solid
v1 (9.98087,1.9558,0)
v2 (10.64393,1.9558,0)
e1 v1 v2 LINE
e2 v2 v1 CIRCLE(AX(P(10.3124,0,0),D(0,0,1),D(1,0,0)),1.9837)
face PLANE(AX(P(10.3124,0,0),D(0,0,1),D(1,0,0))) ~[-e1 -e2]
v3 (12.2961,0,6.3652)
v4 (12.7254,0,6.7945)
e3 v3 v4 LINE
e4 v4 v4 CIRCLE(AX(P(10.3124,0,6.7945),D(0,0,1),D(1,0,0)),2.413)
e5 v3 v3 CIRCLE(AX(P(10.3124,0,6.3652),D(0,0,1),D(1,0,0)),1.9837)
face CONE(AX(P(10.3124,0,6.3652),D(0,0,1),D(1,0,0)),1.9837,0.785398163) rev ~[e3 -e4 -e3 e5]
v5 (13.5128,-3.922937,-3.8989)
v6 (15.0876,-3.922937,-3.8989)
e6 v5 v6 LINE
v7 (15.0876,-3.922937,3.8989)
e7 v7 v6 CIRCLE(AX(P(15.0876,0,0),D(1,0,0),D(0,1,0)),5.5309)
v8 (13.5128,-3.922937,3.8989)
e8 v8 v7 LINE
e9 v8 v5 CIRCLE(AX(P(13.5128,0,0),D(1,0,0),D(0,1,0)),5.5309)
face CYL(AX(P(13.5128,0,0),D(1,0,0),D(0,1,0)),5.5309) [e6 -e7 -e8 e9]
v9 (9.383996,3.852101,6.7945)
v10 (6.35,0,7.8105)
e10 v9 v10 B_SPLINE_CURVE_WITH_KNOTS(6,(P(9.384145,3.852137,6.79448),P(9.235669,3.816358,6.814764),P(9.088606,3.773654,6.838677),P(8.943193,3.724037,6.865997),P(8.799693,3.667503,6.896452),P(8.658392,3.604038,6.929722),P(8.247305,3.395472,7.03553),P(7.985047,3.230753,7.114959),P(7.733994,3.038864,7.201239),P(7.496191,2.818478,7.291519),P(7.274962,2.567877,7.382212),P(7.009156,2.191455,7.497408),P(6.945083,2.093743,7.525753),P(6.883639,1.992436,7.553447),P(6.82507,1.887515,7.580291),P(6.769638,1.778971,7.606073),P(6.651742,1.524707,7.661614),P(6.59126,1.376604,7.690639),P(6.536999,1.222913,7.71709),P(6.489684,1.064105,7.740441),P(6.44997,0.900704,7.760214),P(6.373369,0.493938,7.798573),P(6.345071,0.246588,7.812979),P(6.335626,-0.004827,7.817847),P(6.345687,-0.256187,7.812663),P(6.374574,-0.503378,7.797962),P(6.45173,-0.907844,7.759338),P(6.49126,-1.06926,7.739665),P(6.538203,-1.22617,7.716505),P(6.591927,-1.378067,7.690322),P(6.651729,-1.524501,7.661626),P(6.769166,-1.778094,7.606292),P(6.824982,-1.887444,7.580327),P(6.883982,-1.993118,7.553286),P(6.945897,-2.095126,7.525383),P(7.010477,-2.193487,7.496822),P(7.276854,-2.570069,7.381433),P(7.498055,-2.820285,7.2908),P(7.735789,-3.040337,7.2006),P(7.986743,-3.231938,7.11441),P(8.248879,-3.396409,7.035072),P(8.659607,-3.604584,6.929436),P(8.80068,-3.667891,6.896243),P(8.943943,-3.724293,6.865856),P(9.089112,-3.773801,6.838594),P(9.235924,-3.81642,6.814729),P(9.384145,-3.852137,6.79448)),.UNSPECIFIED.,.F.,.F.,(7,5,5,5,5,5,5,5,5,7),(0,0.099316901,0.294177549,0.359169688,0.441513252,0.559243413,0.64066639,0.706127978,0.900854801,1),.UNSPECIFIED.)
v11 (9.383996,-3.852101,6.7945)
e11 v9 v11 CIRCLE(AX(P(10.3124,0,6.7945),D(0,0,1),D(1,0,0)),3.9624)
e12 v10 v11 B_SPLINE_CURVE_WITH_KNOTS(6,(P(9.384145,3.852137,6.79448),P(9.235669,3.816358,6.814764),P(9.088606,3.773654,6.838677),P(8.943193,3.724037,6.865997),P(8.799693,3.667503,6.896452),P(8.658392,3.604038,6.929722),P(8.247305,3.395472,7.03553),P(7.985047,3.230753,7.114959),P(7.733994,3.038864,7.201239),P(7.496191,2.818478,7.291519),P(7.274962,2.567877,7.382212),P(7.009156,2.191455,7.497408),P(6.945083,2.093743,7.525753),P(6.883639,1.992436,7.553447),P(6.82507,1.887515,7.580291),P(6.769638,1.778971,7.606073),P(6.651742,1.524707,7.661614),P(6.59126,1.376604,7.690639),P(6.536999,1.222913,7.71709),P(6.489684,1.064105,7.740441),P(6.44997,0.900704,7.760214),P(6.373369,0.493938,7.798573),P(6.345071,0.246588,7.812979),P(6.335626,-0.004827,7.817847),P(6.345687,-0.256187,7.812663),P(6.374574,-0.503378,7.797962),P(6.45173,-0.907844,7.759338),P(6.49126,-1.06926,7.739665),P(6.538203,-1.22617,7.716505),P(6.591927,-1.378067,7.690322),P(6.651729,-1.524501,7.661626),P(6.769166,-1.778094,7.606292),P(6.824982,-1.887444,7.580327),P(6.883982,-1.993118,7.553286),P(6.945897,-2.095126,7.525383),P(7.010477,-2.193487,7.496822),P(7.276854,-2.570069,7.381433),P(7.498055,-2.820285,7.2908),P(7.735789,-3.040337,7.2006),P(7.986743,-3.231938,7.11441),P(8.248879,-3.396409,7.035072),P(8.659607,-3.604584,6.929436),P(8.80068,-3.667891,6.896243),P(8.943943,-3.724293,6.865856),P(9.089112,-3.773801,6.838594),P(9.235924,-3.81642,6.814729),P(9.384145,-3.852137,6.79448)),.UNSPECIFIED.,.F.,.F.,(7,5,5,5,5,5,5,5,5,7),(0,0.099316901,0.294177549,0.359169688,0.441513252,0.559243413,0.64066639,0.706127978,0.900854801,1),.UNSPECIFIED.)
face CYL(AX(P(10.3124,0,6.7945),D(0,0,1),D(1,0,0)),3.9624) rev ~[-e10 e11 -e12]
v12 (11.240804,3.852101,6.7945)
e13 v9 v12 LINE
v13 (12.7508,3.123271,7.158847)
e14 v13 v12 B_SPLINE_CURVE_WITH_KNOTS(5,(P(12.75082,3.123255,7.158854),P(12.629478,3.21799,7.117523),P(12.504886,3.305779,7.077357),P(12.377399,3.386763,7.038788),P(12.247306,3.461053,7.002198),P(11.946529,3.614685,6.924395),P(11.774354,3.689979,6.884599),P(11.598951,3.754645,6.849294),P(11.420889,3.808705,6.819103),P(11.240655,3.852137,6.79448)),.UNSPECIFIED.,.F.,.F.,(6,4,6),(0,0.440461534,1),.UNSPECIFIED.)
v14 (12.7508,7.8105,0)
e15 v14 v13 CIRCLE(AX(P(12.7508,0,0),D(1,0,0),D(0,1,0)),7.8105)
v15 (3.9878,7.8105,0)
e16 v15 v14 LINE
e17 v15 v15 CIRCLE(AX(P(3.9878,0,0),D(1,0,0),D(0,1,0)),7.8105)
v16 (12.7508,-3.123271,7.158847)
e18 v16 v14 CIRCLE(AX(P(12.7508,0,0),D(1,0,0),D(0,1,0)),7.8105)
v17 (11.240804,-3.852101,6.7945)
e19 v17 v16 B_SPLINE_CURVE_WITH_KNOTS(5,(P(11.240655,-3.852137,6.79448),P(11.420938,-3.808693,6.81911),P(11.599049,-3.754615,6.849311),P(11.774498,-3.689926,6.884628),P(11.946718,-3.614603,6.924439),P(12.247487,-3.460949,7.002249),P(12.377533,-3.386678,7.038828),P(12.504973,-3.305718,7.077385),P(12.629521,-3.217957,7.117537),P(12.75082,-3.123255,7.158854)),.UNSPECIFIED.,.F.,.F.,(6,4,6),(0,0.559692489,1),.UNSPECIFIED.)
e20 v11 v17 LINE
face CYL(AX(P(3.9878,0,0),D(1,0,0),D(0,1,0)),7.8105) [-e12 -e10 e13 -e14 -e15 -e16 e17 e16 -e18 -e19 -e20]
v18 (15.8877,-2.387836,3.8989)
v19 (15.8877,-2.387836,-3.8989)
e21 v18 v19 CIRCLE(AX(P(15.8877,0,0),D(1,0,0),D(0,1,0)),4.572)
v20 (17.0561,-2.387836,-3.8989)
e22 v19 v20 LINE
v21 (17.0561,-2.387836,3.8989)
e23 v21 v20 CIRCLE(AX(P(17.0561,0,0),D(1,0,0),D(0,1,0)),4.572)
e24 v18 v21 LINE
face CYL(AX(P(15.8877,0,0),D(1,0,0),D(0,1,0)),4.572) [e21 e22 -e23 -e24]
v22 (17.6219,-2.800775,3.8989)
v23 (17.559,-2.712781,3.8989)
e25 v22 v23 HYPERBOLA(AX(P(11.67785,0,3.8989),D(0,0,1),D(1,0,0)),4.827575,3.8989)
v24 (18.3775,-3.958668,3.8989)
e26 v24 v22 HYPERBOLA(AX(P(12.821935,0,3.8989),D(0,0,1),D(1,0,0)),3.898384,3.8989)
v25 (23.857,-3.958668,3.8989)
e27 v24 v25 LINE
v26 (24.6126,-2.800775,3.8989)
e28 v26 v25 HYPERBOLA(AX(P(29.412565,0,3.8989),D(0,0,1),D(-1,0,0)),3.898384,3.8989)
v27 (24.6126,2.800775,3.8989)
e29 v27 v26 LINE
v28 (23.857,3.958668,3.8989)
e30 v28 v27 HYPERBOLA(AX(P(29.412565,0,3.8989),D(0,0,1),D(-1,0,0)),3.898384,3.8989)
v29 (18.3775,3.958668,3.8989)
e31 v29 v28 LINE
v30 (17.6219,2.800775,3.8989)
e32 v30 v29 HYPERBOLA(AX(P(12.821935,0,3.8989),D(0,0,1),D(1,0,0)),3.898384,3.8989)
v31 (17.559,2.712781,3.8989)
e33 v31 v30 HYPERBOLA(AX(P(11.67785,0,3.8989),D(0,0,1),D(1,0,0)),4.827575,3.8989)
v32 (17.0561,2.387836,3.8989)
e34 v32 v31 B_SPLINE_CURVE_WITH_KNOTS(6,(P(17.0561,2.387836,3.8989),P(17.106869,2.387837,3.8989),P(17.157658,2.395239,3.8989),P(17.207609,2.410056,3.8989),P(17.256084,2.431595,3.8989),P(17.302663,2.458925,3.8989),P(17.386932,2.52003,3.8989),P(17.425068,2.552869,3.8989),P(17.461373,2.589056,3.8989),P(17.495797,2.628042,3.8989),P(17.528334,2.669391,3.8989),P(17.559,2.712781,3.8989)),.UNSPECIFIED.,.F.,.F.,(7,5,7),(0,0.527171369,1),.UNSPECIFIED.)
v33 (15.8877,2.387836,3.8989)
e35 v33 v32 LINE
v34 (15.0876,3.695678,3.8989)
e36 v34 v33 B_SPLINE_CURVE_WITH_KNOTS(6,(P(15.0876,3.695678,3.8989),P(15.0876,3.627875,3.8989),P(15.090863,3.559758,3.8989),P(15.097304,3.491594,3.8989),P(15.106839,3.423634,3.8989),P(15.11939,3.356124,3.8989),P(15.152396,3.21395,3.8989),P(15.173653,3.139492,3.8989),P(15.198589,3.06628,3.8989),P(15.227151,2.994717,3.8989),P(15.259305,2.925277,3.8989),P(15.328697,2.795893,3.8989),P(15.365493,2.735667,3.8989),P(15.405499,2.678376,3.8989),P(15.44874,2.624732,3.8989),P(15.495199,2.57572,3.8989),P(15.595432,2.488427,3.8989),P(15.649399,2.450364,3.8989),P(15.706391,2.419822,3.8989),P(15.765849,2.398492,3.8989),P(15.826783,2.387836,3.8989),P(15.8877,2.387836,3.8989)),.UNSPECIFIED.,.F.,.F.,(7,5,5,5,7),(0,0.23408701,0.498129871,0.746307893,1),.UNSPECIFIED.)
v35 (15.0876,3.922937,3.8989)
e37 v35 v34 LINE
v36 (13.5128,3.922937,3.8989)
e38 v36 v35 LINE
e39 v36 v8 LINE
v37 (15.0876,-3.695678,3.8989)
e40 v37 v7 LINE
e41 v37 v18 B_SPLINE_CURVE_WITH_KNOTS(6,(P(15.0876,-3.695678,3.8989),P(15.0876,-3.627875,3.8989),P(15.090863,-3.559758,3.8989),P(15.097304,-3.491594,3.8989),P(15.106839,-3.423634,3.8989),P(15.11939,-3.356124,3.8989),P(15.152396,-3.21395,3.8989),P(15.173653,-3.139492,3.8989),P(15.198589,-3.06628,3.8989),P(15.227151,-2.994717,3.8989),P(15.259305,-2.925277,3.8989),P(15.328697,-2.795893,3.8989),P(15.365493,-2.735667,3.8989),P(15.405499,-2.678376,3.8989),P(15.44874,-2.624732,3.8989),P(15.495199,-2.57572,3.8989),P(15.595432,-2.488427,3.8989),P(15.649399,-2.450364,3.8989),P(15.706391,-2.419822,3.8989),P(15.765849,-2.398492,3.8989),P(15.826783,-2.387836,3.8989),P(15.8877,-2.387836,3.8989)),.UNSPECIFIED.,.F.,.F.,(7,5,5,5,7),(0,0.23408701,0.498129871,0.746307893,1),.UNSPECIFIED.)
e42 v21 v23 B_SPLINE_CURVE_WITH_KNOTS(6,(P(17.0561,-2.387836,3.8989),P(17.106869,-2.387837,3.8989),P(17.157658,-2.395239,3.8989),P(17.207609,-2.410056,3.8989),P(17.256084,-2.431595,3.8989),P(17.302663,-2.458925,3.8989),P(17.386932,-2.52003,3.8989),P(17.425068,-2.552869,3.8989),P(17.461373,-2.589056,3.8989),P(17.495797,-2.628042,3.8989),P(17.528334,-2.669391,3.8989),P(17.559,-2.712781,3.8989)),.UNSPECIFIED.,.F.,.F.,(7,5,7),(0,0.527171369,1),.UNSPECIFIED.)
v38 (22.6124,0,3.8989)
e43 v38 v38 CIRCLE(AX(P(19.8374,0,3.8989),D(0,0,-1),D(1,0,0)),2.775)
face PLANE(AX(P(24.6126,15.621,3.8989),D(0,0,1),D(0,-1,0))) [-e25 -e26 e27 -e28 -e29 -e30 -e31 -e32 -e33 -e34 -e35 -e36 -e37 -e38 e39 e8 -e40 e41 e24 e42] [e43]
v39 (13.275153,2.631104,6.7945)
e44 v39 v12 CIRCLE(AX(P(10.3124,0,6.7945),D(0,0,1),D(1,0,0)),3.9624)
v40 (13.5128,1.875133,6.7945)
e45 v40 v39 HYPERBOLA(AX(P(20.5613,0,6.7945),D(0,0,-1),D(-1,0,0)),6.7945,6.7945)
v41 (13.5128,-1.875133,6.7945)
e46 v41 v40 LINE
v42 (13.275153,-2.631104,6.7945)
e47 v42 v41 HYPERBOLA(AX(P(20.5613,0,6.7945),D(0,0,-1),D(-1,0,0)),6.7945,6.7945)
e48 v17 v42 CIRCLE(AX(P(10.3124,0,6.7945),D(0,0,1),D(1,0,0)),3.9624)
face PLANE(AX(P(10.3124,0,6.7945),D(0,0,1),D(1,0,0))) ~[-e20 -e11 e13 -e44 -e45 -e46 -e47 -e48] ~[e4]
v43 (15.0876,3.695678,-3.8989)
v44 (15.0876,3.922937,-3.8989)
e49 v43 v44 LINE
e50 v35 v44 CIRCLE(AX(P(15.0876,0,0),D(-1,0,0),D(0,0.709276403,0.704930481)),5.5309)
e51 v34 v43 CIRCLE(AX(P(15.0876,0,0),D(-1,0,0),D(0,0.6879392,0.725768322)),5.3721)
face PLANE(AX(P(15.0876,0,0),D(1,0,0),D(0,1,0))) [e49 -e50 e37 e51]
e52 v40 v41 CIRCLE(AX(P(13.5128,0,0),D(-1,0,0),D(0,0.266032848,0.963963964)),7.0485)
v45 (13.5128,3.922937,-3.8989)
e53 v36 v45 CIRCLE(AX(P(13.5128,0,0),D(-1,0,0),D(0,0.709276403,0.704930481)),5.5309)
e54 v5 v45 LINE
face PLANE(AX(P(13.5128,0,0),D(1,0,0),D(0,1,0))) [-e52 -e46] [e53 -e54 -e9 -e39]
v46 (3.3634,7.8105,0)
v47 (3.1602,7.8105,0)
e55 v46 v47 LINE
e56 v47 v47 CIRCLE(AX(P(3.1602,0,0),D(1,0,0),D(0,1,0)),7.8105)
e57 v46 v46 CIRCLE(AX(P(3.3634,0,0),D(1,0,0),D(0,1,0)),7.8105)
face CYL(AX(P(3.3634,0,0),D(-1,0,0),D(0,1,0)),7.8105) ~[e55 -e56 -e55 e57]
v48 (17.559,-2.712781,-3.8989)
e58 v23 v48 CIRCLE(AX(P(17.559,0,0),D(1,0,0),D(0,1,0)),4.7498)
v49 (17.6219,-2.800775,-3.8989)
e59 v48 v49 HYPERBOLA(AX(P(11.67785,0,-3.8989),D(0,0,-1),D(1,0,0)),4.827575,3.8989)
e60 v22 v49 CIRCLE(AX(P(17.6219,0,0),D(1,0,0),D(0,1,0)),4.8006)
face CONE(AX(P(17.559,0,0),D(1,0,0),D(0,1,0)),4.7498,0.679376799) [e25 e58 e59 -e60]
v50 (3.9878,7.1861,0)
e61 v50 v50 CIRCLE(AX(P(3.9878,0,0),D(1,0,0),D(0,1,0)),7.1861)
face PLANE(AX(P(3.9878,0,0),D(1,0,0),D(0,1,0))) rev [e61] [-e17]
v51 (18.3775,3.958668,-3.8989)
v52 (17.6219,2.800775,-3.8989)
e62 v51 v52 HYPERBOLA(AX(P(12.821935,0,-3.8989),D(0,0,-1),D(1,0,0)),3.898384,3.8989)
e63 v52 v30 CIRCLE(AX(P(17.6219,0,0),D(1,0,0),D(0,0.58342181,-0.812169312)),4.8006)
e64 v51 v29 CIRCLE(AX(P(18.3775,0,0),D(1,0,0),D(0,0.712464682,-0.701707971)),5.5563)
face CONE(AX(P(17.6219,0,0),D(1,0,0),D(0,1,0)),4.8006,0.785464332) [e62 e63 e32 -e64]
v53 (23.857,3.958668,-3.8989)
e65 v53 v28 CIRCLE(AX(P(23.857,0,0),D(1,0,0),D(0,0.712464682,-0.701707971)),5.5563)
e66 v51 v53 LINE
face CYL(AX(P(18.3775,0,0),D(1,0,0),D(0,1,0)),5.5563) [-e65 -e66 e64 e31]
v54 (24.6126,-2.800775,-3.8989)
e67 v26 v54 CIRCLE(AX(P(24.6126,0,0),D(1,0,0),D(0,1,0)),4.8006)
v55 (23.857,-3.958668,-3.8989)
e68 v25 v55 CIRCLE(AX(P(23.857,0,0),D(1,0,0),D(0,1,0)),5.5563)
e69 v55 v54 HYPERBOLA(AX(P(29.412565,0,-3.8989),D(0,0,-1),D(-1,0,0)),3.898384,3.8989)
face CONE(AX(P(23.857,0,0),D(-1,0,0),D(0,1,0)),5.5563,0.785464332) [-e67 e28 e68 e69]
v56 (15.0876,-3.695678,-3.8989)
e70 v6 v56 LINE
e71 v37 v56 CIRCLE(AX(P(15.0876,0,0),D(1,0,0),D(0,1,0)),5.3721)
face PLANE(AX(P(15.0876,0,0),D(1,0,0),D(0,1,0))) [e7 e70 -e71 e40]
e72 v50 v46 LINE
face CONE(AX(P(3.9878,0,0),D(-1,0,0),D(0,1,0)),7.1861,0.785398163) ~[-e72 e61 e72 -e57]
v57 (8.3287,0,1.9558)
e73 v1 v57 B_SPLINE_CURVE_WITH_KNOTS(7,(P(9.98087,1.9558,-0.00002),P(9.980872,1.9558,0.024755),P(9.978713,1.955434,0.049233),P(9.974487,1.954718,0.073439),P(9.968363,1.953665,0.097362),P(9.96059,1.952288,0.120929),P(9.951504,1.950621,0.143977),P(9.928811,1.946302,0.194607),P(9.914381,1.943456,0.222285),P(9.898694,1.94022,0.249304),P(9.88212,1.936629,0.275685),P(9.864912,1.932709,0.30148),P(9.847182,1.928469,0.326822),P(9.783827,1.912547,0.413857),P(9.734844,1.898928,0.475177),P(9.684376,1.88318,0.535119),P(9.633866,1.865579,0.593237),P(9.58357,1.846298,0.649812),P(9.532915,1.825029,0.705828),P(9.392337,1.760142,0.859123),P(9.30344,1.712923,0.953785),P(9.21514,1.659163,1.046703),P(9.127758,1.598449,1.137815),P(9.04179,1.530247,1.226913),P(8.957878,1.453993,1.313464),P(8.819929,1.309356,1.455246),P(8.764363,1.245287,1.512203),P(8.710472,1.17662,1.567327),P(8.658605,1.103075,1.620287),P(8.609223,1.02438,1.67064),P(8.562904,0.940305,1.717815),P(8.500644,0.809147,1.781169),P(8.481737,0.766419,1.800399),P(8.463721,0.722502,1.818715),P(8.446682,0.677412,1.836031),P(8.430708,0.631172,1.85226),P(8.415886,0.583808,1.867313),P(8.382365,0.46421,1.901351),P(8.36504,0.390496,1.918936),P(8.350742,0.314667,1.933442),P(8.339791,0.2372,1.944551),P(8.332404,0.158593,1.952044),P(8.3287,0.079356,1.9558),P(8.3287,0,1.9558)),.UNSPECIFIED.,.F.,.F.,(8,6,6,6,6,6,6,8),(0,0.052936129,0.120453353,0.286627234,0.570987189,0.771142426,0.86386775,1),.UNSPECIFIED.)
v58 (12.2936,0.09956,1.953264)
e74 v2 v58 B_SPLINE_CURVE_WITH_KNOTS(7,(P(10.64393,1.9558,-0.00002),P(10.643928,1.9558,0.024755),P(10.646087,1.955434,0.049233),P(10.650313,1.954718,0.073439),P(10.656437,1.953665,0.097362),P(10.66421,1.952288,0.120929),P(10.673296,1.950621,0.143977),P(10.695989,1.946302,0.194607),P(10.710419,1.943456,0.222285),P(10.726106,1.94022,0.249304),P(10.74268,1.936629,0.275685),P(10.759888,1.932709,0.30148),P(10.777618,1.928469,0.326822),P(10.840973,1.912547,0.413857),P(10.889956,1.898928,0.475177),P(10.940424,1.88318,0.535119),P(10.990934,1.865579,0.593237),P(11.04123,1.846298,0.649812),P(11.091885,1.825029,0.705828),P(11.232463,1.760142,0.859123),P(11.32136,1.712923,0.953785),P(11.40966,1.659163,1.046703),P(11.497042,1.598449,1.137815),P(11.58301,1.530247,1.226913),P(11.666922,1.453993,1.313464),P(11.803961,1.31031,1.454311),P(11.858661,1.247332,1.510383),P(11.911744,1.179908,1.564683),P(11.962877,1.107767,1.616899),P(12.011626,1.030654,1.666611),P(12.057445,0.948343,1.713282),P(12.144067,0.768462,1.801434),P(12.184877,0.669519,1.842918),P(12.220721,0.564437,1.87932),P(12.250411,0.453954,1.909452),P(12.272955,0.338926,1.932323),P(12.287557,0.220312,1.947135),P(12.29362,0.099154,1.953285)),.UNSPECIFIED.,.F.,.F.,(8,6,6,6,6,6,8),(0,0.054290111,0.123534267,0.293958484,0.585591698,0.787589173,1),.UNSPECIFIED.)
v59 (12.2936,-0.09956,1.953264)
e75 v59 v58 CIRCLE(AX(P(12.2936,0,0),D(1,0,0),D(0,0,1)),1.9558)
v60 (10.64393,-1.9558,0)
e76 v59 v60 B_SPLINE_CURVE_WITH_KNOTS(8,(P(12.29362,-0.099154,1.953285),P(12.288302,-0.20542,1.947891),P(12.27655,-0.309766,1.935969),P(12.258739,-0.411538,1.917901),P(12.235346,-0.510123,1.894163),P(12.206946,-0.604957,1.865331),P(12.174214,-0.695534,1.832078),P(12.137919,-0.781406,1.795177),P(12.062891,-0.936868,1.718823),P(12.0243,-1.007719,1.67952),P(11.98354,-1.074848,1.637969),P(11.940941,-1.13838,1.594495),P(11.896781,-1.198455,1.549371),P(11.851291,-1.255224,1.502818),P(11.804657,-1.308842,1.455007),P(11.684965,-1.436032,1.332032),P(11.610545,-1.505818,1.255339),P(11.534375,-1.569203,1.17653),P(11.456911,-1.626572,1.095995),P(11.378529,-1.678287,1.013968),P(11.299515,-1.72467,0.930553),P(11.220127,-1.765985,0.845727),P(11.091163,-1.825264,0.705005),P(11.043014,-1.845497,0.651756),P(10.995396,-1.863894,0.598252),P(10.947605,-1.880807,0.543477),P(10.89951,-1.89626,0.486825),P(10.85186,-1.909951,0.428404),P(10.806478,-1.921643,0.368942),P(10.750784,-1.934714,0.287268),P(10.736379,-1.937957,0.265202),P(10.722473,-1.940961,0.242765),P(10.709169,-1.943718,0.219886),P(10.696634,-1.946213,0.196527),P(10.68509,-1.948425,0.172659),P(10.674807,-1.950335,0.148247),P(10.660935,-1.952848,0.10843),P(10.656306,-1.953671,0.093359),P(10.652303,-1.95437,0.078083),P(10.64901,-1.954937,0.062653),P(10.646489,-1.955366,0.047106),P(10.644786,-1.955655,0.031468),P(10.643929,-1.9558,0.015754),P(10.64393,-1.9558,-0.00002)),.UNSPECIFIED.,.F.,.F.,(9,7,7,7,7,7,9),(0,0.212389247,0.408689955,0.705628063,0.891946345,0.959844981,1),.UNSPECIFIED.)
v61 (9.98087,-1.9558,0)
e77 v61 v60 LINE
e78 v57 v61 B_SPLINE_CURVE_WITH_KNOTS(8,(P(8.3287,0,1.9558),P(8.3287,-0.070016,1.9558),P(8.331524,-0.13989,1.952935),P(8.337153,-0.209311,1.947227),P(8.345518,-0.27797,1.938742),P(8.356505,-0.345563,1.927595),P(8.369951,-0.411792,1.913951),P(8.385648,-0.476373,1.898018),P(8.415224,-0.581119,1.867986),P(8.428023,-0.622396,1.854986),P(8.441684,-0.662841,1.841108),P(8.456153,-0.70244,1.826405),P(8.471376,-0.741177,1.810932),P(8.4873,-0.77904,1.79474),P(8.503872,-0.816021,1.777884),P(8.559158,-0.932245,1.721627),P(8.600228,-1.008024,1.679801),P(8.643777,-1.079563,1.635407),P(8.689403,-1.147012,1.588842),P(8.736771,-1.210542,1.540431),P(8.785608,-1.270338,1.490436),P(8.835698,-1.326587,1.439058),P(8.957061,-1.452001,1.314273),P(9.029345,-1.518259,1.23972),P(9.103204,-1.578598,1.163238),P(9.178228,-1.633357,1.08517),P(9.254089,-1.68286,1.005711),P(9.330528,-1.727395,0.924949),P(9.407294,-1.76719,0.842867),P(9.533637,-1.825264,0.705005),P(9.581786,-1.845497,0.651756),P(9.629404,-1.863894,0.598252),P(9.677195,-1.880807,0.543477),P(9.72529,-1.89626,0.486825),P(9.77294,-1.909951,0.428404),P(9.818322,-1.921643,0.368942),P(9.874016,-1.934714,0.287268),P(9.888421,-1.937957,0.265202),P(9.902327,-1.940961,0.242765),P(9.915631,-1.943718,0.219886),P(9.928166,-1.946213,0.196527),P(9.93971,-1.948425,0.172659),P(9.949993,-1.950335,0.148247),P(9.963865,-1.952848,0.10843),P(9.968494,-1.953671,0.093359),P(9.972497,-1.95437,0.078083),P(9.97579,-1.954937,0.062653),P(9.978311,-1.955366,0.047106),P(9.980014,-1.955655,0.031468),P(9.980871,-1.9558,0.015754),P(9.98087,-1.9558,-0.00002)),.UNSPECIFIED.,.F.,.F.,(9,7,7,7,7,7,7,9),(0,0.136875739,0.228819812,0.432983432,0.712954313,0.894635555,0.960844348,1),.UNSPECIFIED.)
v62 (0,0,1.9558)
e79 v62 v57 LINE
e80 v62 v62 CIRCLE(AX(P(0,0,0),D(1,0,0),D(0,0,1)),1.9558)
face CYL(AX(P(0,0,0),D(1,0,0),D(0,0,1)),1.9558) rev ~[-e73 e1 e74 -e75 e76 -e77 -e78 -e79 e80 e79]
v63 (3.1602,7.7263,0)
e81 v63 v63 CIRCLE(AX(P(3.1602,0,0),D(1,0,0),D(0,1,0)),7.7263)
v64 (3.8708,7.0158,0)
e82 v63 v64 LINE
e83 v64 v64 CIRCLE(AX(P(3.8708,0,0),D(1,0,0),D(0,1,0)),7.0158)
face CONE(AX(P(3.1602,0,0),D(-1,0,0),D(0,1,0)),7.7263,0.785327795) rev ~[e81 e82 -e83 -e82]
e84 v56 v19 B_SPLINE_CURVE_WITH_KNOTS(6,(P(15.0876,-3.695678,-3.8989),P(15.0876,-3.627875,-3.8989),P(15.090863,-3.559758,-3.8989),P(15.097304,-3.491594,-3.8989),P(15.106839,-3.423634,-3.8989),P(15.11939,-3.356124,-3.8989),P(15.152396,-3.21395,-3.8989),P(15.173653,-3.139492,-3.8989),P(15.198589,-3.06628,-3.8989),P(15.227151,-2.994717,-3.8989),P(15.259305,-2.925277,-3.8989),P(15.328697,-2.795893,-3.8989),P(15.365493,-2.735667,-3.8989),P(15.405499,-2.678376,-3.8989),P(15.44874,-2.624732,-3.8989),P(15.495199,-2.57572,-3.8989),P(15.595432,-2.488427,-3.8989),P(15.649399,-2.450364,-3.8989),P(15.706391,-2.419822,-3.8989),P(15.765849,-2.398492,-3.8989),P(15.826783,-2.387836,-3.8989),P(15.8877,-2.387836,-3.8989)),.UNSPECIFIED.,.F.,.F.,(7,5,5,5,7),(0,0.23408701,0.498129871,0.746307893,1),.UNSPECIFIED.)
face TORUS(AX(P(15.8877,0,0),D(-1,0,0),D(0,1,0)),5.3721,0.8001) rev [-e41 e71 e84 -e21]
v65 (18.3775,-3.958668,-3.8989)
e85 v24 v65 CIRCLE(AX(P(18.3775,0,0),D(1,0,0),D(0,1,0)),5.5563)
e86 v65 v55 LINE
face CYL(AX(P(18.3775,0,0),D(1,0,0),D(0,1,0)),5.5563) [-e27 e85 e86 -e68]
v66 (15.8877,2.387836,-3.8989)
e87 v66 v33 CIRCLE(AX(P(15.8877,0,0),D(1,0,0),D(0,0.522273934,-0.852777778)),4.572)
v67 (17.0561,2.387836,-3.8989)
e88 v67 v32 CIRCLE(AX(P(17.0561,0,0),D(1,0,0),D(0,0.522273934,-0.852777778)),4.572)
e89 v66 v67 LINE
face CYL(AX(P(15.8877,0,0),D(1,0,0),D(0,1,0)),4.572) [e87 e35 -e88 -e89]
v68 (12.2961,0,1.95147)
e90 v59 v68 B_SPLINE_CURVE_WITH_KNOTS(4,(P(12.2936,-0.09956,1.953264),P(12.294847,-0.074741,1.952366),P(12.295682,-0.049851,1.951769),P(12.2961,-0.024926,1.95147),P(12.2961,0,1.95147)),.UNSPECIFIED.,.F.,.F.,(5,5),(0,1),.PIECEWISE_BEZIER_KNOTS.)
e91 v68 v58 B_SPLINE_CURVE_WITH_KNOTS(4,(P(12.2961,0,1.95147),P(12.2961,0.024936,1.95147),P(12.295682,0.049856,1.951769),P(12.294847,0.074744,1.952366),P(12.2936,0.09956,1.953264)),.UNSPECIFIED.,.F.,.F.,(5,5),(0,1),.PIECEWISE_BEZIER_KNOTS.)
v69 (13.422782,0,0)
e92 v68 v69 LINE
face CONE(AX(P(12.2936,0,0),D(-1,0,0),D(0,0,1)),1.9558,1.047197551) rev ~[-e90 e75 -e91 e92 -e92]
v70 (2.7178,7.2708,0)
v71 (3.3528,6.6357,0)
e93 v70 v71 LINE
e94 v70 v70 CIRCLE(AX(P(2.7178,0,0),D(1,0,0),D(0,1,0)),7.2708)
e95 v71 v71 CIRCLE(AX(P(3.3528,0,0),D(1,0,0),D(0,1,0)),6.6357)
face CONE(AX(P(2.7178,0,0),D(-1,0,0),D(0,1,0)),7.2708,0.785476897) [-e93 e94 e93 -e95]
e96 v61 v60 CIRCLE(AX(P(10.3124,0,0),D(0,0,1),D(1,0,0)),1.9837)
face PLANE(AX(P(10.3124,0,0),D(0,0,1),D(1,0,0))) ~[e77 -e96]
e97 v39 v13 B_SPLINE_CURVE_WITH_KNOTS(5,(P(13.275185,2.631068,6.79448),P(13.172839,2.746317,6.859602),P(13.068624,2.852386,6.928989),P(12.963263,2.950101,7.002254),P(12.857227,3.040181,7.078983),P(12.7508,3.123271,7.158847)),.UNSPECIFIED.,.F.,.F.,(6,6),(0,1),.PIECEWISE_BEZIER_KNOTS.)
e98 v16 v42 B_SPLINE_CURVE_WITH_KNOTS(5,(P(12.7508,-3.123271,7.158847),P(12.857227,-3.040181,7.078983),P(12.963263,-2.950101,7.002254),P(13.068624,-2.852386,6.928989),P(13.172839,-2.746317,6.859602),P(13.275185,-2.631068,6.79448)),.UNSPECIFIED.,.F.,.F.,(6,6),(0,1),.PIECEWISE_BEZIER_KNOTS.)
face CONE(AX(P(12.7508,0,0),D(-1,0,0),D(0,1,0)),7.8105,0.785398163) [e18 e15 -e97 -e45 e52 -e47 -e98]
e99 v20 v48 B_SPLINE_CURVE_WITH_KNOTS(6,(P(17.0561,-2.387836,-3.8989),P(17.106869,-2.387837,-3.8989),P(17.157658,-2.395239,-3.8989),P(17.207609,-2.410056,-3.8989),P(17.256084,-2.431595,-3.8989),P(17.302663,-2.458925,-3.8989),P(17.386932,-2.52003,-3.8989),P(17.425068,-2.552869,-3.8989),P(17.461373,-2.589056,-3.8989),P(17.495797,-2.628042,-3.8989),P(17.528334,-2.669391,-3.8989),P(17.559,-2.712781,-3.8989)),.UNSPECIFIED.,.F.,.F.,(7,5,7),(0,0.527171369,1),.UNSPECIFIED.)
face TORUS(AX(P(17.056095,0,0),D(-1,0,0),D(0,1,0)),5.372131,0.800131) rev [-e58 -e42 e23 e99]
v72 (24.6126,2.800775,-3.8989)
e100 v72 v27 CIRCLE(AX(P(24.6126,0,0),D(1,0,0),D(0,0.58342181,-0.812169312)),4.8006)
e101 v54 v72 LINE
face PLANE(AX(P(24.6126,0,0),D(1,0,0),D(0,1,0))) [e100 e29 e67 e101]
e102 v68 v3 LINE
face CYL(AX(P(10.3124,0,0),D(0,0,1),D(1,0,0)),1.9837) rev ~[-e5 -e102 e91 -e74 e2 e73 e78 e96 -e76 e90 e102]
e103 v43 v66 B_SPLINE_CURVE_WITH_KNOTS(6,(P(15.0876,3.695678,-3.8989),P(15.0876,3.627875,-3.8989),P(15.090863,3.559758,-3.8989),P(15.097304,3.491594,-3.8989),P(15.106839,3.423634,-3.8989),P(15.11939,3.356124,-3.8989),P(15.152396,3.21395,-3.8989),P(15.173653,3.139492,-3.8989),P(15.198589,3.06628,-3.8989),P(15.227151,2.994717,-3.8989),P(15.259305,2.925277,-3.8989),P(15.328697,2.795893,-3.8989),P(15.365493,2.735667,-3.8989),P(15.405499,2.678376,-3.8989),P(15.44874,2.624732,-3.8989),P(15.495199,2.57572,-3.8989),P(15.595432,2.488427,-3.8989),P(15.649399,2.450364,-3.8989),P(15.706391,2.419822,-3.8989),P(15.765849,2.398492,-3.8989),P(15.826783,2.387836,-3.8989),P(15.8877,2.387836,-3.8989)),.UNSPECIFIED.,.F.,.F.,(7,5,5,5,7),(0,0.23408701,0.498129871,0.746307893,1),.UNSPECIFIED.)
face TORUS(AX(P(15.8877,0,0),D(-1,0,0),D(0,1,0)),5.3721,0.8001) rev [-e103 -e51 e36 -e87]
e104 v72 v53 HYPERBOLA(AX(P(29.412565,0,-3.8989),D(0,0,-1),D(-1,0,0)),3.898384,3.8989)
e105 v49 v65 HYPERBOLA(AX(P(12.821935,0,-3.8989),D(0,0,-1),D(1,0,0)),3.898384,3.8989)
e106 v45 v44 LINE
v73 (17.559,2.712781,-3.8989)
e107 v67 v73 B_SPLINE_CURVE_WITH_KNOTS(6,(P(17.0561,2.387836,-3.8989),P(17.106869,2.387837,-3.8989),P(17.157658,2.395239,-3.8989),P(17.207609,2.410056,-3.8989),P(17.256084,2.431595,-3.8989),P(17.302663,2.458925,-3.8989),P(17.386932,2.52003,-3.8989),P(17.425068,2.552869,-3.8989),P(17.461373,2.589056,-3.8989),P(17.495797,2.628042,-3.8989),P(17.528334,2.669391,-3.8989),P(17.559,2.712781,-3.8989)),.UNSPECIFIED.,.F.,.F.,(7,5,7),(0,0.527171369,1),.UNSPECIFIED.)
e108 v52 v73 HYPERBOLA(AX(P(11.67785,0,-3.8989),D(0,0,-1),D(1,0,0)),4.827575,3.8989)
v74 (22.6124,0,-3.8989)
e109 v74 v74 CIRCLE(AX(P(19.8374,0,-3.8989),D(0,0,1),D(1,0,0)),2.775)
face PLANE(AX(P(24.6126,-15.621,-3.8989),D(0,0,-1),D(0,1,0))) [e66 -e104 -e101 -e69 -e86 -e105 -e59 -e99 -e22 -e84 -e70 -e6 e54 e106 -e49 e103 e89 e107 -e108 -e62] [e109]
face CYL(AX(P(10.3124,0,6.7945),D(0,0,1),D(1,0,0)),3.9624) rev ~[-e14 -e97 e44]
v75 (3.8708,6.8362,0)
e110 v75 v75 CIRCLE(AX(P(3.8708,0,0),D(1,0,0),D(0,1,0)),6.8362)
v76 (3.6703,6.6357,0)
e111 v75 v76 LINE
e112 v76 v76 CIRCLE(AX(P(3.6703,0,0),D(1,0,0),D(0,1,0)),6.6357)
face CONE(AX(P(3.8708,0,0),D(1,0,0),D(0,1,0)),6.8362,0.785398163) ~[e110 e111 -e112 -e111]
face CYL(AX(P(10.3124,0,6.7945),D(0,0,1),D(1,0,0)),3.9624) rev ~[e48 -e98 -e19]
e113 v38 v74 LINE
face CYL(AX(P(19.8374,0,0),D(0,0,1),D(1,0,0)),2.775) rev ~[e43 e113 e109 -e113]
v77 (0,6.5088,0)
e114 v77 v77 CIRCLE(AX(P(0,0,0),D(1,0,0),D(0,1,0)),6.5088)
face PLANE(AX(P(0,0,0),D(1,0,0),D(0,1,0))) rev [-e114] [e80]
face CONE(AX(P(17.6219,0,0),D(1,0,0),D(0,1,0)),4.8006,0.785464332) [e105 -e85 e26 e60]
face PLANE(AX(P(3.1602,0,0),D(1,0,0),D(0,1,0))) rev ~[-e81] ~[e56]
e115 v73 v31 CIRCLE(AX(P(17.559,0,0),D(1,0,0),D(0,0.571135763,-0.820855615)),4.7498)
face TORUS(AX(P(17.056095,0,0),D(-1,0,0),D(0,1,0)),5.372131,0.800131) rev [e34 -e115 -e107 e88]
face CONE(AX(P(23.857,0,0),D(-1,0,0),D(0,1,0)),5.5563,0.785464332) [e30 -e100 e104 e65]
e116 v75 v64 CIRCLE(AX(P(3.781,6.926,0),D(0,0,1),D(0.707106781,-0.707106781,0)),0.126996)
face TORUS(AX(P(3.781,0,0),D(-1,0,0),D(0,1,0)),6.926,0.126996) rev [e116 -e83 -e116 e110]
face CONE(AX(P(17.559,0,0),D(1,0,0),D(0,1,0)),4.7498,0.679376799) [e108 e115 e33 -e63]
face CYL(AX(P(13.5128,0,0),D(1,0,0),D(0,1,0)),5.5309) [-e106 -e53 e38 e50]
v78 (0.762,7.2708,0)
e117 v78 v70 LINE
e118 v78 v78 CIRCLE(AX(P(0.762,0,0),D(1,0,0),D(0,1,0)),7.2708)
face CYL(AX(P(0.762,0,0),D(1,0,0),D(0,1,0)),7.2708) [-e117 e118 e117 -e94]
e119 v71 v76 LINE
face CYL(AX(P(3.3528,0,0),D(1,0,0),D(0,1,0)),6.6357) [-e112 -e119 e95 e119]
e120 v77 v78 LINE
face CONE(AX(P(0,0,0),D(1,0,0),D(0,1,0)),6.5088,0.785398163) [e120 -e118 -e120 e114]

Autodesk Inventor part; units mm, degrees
sketch "Sketch_18" plane through (0, 0, 0) normal (0, 0, 1) x (1, 0, 0)
  line L0 (13.5128, 0) -> (0, 0)
  line L1 (0, 0) -> (0, 6.5088)
  line L2 (0, 6.5088) -> (0.762, 7.2708)
  line L3 (0.762, 7.2708) -> (2.7178, 7.2708)
  line L4 (2.7178, 7.2708) -> (3.3528, 6.6357)
  line L5 (3.3528, 6.6357) -> (3.9878, 6.6357)
  line L6 (3.9878, 6.6357) -> (3.9878, 7.8105)
  line L7 (3.9878, 7.8105) -> (12.7508, 7.8105)
  line L8 (12.7508, 7.8105) -> (13.5128, 7.0485)
  line L9 (13.5128, 7.0485) -> (13.5128, 0)
  line L10 (13.5128, 0) -> (0, 0)
revolve "Revolution1" add sketch "Sketch_18" angle 360 about axis through (13.5128, 0, 0) along (1, 0, 0)
sketch "Sketch_15" plane through (0, 0, 0) normal (0, 0, 1) x (1, 0, 0)
  line L0 (24.6126, 0) -> (13.5128, 0)
  line L1 (13.5128, 0) -> (13.5128, 5.5309)
  line L2 (13.5128, 5.5309) -> (15.0876, 5.5309)
  line L3 (15.0876, 5.5309) -> (15.0876, 5.3721)
  arc A0 (15.0876, 5.3721) -> (15.8877, 4.572) centre (15.8877, 5.3721) ccw
  line L4 (15.8877, 4.572) -> (17.0561, 4.572)
  arc A1 (17.0561, 4.572) -> (17.559, 4.7498) centre (17.0561, 5.3721) ccw
  line L5 (17.559, 4.7498) -> (17.6219, 4.8006)
  line L6 (17.6219, 4.8006) -> (18.3775, 5.5563)
  line L7 (18.3775, 5.5563) -> (23.857, 5.5563)
  line L8 (23.857, 5.5563) -> (24.6126, 4.8006)
  line L9 (24.6126, 4.8006) -> (24.6126, 0)
  line L10 (24.6126, 0) -> (13.5128, 0)
revolve "Revolution2" add sketch "Sketch_15" angle 360 about axis through (24.6126, 0, 0) along (1, 0, 0)
sketch "Sketch_9" plane through (24.6126, 0, 0) normal (1, 0, 0) x (0, 0, -1)
  line L0 (-15.621, -31.242) -> (15.621, -31.242)
  line L1 (15.621, -31.242) -> (15.621, 31.242)
  line L2 (15.621, 31.242) -> (-15.621, 31.242)
  line L3 (-15.621, 31.242) -> (-15.621, -31.242)
  line L4 (-3.8989, -15.621) -> (3.8989, -15.621)
  line L5 (3.8989, -15.621) -> (3.8989, 15.621)
  line L6 (3.8989, 15.621) -> (-3.8989, 15.621)
  line L7 (-3.8989, 15.621) -> (-3.8989, -15.621)
extrude "Extrusion1" cut sketch "Sketch_9" against normal blind 11.0998
sketch "Sketch4" plane through (0, 0, 0) normal (-1, 0, 0) x (0, 0, 1)
  point P0 (0, 0)
hole "Hole1" at (0, 0, 0) direction (1, 0, 0) diameter 3.9116 depth 12.2936 tip angle 120
sketch "Sketch_16" plane through (0, 0, 0) normal (0, 1, 0) x (-1, 0, 0)
  line L0 (-10.3124, 7.8105) -> (-10.3124, 0)
  line L1 (-10.3124, 0) -> (-12.2961, 0)
  line L2 (-12.2961, 0) -> (-12.2961, 6.3652)
  line L3 (-12.2961, 6.3652) -> (-12.7254, 6.7945)
  line L4 (-12.7254, 6.7945) -> (-14.2748, 6.7945)
  line L5 (-14.2748, 6.7945) -> (-14.2748, 7.8105)
  line L6 (-14.2748, 7.8105) -> (-10.3124, 7.8105)
  line L7 (-10.3124, 7.8105) -> (-10.3124, 0)
revolve "Revolution3" cut sketch "Sketch_16" angle 360 about axis through (10.3124, 0, 7.8105) along (0, 0, 1)
thread "Thread1" size "10-32 UNF" class "2B" standard "ANSI Unified Screw Threads" length 4.4094
sketch "Sketch_24" plane through (0, 0, 0) normal (0, 0, 1) x (1, 0, 0)
  line L0 (3.9878, 0) -> (3.3528, 0)
  line L1 (3.1602, 7.8105) -> (3.1602, 7.7263)
  line L2 (3.1602, 7.7263) -> (3.8708, 7.0158)
  arc A0 (3.8708, 6.8362) -> (3.8708, 7.0158) centre (3.781, 6.926) ccw
  line L3 (3.8708, 6.8362) -> (3.6703, 6.6357)
  line L4 (3.6703, 6.6357) -> (3.3528, 6.6357)
  line L5 (3.3528, 6.6357) -> (3.3528, 6.3818)
  line L6 (3.3528, 6.3818) -> (3.9878, 6.3818)
  line L7 (3.9878, 6.3818) -> (3.9878, 7.1861)
  line L8 (3.9878, 7.1861) -> (3.3634, 7.8105)
  line L9 (3.3634, 7.8105) -> (3.1602, 7.8105)
revolve "Revolution4" add sketch "Sketch_24" angle 360 about axis through (3.9878, 0, 0) along (1, 0, 0)
sketch "Sketch_43" plane through (0, 0, 0) normal (0, 0, 1) x (1, 0, 0)
  circle A0 centre (19.8374, 0) radius 2.775
extrude "Extrusion2" cut sketch "Sketch_43" along normal mid plane 11.6967
ref_plane "1_XY" through (15.0876, 0, 0) normal (1, 0, 0) x (0, 0, -1)
ref_plane "1_YZ" through (15.0876, 0, 0) normal (0, 0, -1) x (0, 1, 0)
ref_plane "1_ZX" through (15.0876, 0, 0) normal (0, 1, 0) x (1, 0, 0)
ref_plane "c1_XY" through (13.5128, 5.5309, 0) normal (0, 0, 1) x (1, 0, 0)
ref_plane "c1_YZ" through (13.5128, 5.5309, 0) normal (1, 0, 0) x (0, 1, 0)
ref_plane "c1_ZX" through (13.5128, 5.5309, 0) normal (0, 1, 0) x (0, 0, 1)
ref_plane "c2_XY" through (13.5128, -5.5309, 0) normal (0, 0, 1) x (1, 0, 0)
ref_plane "c2_YZ" through (13.5128, -5.5309, 0) normal (1, 0, 0) x (0, 1, 0)
ref_plane "c2_ZX" through (13.5128, -5.5309, 0) normal (0, 1, 0) x (0, 0, 1)
ref_plane "cc1_XY" through (13.5128, 0, 0) normal (0, 0, 1) x (1, 0, 0)
ref_plane "cc1_YZ" through (13.5128, 0, 0) normal (1, 0, 0) x (0, 1, 0)
ref_plane "cc1_ZX" through (13.5128, 0, 0) normal (0, 1, 0) x (0, 0, 1)
ref_plane "cc2_XY" through (15.0876, 0, 0) normal (0, 0, 1) x (1, 0, 0)
ref_plane "cc2_YZ" through (15.0876, 0, 0) normal (1, 0, 0) x (0, 1, 0)
ref_plane "cc2_ZX" through (15.0876, 0, 0) normal (0, 1, 0) x (0, 0, 1)
ref_plane "lovra1_XY" through (19.9644, 0, 0) normal (1, 0, 0) x (0, 0, -1)
ref_plane "lovra1_YZ" through (19.9644, 0, 0) normal (0, 0, -1) x (0, 1, 0)
ref_plane "lovra1_ZX" through (19.9644, 0, 0) normal (0, 1, 0) x (1, 0, 0)
ref_plane "lovra2_XY" through (19.9644, 6.2865, 0) normal (1, 0, 0) x (0, 0, -1)
ref_plane "lovra2_YZ" through (19.9644, 6.2865, 0) normal (0, 0, -1) x (0, 1, 0)
ref_plane "lovra2_ZX" through (19.9644, 6.2865, 0) normal (0, 1, 0) x (1, 0, 0)
ref_plane "lovra21_XY" through (0, 0, 5.2705) normal (1, 0, 0) x (0, 0, -1)
ref_plane "lovra21_YZ" through (0, 0, 5.2705) normal (0, 0, -1) x (0, 1, 0)
ref_plane "lovra21_ZX" through (0, 0, 5.2705) normal (0, 1, 0) x (1, 0, 0)
ref_plane "lovra22_XY" through (0, 0, -5.2705) normal (1, 0, 0) x (0, 0, -1)
ref_plane "lovra22_YZ" through (0, 0, -5.2705) normal (0, 0, -1) x (0, 1, 0)
ref_plane "lovra22_ZX" through (0, 0, -5.2705) normal (0, 1, 0) x (1, 0, 0)
ref_plane "lovra3_XY" through (19.9644, -6.2865, 0) normal (1, 0, 0) x (0, 0, -1)
ref_plane "lovra3_YZ" through (19.9644, -6.2865, 0) normal (0, 0, -1) x (0, 1, 0)
ref_plane "lovra3_ZX" through (19.9644, -6.2865, 0) normal (0, 1, 0) x (1, 0, 0)
ref_plane "olen_XY" through (19.8374, 0, 0) normal (1, 0, 0) x (0, 0, -1)
ref_plane "olen_YZ" through (19.8374, 0, 0) normal (0, 0, -1) x (0, 1, 0)
ref_plane "olen_ZX" through (19.8374, 0, 0) normal (0, 1, 0) x (1, 0, 0)
ref_plane "p1_XY" through (24.6126, 0, 3.9624) normal (1, 0, 0) x (0, 0, -1)
ref_plane "p1_YZ" through (24.6126, 0, 3.9624) normal (0, 0, -1) x (0, 1, 0)
ref_plane "p1_ZX" through (24.6126, 0, 3.9624) normal (0, 1, 0) x (1, 0, 0)
ref_plane "p2_XY" through (24.6126, 0, -3.9624) normal (1, 0, 0) x (0, 0, -1)
ref_plane "p2_YZ" through (24.6126, 0, -3.9624) normal (0, 0, -1) x (0, 1, 0)
ref_plane "p2_ZX" through (24.6126, 0, -3.9624) normal (0, 1, 0) x (1, 0, 0)
ref_plane "port_XY" through (10.3124, 0, 0) normal (0, 0, 1) x (1, 0, 0)
ref_plane "port_YZ" through (10.3124, 0, 0) normal (1, 0, 0) x (0, 1, 0)
ref_plane "port_ZX" through (10.3124, 0, 0) normal (0, 1, 0) x (0, 0, 1)
ref_plane "port2_XY" through (24.6126, 0, 0) normal (1, 0, 0) x (0, 0, -1)
ref_plane "port2_YZ" through (24.6126, 0, 0) normal (0, 0, -1) x (0, 1, 0)
ref_plane "port2_ZX" through (24.6126, 0, 0) normal (0, 1, 0) x (1, 0, 0)
ref_plane "thd1_XY" through (24.6126, 0, 5.5563) normal (1, 0, 0) x (0, 0, -1)
ref_plane "thd1_YZ" through (24.6126, 0, 5.5563) normal (0, 0, -1) x (0, 1, 0)
ref_plane "thd1_ZX" through (24.6126, 0, 5.5563) normal (0, 1, 0) x (1, 0, 0)
ref_plane "thd2_XY" through (24.6126, 0, -5.5563) normal (1, 0, 0) x (0, 0, -1)
ref_plane "thd2_YZ" through (24.6126, 0, -5.5563) normal (0, 0, -1) x (0, 1, 0)
ref_plane "thd2_ZX" through (24.6126, 0, -5.5563) normal (0, 1, 0) x (1, 0, 0)
ref_plane "to_mounting_bracket_XY" through (13.5128, 0, 0) normal (1, 0, 0) x (0, 0, -1)
ref_plane "to_mounting_bracket_YZ" through (13.5128, 0, 0) normal (0, 0, -1) x (0, 1, 0)
ref_plane "to_mounting_bracket_ZX" through (13.5128, 0, 0) normal (0, 1, 0) x (1, 0, 0)
ref_plane "to_nut_XY" through (15.0876, 0, 0) normal (1, 0, 0) x (0, 0, -1)
ref_plane "to_nut_YZ" through (15.0876, 0, 0) normal (0, 0, -1) x (0, 1, 0)
ref_plane "to_nut_ZX" through (15.0876, 0, 0) normal (0, 1, 0) x (1, 0, 0)
ref_plane "to_pin_XY" through (19.8374, 0, 0) normal (0, 0, 1) x (1, 0, 0)
ref_plane "to_pin_YZ" through (19.8374, 0, 0) normal (1, 0, 0) x (0, 1, 0)
ref_plane "to_pin_ZX" through (19.8374, 0, 0) normal (0, 1, 0) x (0, 0, 1)
ref_plane "to_screw_XY" through (10.3124, 0, 0) normal (0, 1, 0) x (1, 0, 0)
ref_plane "to_screw_YZ" through (10.3124, 0, 0) normal (1, 0, 0) x (0, 0, -1)
ref_plane "to_screw_ZX" through (10.3124, 0, 0) normal (0, 0, -1) x (0, 1, 0)
ref_plane "to_tube_XY" through (3.3528, 0, 0) normal (1, 0, 0) x (0, 0, -1)
ref_plane "to_tube_YZ" through (3.3528, 0, 0) normal (0, 0, -1) x (0, 1, 0)
ref_plane "to_tube_ZX" through (3.3528, 0, 0) normal (0, 1, 0) x (1, 0, 0)
properties part number "02P0Y000_rear_head"
